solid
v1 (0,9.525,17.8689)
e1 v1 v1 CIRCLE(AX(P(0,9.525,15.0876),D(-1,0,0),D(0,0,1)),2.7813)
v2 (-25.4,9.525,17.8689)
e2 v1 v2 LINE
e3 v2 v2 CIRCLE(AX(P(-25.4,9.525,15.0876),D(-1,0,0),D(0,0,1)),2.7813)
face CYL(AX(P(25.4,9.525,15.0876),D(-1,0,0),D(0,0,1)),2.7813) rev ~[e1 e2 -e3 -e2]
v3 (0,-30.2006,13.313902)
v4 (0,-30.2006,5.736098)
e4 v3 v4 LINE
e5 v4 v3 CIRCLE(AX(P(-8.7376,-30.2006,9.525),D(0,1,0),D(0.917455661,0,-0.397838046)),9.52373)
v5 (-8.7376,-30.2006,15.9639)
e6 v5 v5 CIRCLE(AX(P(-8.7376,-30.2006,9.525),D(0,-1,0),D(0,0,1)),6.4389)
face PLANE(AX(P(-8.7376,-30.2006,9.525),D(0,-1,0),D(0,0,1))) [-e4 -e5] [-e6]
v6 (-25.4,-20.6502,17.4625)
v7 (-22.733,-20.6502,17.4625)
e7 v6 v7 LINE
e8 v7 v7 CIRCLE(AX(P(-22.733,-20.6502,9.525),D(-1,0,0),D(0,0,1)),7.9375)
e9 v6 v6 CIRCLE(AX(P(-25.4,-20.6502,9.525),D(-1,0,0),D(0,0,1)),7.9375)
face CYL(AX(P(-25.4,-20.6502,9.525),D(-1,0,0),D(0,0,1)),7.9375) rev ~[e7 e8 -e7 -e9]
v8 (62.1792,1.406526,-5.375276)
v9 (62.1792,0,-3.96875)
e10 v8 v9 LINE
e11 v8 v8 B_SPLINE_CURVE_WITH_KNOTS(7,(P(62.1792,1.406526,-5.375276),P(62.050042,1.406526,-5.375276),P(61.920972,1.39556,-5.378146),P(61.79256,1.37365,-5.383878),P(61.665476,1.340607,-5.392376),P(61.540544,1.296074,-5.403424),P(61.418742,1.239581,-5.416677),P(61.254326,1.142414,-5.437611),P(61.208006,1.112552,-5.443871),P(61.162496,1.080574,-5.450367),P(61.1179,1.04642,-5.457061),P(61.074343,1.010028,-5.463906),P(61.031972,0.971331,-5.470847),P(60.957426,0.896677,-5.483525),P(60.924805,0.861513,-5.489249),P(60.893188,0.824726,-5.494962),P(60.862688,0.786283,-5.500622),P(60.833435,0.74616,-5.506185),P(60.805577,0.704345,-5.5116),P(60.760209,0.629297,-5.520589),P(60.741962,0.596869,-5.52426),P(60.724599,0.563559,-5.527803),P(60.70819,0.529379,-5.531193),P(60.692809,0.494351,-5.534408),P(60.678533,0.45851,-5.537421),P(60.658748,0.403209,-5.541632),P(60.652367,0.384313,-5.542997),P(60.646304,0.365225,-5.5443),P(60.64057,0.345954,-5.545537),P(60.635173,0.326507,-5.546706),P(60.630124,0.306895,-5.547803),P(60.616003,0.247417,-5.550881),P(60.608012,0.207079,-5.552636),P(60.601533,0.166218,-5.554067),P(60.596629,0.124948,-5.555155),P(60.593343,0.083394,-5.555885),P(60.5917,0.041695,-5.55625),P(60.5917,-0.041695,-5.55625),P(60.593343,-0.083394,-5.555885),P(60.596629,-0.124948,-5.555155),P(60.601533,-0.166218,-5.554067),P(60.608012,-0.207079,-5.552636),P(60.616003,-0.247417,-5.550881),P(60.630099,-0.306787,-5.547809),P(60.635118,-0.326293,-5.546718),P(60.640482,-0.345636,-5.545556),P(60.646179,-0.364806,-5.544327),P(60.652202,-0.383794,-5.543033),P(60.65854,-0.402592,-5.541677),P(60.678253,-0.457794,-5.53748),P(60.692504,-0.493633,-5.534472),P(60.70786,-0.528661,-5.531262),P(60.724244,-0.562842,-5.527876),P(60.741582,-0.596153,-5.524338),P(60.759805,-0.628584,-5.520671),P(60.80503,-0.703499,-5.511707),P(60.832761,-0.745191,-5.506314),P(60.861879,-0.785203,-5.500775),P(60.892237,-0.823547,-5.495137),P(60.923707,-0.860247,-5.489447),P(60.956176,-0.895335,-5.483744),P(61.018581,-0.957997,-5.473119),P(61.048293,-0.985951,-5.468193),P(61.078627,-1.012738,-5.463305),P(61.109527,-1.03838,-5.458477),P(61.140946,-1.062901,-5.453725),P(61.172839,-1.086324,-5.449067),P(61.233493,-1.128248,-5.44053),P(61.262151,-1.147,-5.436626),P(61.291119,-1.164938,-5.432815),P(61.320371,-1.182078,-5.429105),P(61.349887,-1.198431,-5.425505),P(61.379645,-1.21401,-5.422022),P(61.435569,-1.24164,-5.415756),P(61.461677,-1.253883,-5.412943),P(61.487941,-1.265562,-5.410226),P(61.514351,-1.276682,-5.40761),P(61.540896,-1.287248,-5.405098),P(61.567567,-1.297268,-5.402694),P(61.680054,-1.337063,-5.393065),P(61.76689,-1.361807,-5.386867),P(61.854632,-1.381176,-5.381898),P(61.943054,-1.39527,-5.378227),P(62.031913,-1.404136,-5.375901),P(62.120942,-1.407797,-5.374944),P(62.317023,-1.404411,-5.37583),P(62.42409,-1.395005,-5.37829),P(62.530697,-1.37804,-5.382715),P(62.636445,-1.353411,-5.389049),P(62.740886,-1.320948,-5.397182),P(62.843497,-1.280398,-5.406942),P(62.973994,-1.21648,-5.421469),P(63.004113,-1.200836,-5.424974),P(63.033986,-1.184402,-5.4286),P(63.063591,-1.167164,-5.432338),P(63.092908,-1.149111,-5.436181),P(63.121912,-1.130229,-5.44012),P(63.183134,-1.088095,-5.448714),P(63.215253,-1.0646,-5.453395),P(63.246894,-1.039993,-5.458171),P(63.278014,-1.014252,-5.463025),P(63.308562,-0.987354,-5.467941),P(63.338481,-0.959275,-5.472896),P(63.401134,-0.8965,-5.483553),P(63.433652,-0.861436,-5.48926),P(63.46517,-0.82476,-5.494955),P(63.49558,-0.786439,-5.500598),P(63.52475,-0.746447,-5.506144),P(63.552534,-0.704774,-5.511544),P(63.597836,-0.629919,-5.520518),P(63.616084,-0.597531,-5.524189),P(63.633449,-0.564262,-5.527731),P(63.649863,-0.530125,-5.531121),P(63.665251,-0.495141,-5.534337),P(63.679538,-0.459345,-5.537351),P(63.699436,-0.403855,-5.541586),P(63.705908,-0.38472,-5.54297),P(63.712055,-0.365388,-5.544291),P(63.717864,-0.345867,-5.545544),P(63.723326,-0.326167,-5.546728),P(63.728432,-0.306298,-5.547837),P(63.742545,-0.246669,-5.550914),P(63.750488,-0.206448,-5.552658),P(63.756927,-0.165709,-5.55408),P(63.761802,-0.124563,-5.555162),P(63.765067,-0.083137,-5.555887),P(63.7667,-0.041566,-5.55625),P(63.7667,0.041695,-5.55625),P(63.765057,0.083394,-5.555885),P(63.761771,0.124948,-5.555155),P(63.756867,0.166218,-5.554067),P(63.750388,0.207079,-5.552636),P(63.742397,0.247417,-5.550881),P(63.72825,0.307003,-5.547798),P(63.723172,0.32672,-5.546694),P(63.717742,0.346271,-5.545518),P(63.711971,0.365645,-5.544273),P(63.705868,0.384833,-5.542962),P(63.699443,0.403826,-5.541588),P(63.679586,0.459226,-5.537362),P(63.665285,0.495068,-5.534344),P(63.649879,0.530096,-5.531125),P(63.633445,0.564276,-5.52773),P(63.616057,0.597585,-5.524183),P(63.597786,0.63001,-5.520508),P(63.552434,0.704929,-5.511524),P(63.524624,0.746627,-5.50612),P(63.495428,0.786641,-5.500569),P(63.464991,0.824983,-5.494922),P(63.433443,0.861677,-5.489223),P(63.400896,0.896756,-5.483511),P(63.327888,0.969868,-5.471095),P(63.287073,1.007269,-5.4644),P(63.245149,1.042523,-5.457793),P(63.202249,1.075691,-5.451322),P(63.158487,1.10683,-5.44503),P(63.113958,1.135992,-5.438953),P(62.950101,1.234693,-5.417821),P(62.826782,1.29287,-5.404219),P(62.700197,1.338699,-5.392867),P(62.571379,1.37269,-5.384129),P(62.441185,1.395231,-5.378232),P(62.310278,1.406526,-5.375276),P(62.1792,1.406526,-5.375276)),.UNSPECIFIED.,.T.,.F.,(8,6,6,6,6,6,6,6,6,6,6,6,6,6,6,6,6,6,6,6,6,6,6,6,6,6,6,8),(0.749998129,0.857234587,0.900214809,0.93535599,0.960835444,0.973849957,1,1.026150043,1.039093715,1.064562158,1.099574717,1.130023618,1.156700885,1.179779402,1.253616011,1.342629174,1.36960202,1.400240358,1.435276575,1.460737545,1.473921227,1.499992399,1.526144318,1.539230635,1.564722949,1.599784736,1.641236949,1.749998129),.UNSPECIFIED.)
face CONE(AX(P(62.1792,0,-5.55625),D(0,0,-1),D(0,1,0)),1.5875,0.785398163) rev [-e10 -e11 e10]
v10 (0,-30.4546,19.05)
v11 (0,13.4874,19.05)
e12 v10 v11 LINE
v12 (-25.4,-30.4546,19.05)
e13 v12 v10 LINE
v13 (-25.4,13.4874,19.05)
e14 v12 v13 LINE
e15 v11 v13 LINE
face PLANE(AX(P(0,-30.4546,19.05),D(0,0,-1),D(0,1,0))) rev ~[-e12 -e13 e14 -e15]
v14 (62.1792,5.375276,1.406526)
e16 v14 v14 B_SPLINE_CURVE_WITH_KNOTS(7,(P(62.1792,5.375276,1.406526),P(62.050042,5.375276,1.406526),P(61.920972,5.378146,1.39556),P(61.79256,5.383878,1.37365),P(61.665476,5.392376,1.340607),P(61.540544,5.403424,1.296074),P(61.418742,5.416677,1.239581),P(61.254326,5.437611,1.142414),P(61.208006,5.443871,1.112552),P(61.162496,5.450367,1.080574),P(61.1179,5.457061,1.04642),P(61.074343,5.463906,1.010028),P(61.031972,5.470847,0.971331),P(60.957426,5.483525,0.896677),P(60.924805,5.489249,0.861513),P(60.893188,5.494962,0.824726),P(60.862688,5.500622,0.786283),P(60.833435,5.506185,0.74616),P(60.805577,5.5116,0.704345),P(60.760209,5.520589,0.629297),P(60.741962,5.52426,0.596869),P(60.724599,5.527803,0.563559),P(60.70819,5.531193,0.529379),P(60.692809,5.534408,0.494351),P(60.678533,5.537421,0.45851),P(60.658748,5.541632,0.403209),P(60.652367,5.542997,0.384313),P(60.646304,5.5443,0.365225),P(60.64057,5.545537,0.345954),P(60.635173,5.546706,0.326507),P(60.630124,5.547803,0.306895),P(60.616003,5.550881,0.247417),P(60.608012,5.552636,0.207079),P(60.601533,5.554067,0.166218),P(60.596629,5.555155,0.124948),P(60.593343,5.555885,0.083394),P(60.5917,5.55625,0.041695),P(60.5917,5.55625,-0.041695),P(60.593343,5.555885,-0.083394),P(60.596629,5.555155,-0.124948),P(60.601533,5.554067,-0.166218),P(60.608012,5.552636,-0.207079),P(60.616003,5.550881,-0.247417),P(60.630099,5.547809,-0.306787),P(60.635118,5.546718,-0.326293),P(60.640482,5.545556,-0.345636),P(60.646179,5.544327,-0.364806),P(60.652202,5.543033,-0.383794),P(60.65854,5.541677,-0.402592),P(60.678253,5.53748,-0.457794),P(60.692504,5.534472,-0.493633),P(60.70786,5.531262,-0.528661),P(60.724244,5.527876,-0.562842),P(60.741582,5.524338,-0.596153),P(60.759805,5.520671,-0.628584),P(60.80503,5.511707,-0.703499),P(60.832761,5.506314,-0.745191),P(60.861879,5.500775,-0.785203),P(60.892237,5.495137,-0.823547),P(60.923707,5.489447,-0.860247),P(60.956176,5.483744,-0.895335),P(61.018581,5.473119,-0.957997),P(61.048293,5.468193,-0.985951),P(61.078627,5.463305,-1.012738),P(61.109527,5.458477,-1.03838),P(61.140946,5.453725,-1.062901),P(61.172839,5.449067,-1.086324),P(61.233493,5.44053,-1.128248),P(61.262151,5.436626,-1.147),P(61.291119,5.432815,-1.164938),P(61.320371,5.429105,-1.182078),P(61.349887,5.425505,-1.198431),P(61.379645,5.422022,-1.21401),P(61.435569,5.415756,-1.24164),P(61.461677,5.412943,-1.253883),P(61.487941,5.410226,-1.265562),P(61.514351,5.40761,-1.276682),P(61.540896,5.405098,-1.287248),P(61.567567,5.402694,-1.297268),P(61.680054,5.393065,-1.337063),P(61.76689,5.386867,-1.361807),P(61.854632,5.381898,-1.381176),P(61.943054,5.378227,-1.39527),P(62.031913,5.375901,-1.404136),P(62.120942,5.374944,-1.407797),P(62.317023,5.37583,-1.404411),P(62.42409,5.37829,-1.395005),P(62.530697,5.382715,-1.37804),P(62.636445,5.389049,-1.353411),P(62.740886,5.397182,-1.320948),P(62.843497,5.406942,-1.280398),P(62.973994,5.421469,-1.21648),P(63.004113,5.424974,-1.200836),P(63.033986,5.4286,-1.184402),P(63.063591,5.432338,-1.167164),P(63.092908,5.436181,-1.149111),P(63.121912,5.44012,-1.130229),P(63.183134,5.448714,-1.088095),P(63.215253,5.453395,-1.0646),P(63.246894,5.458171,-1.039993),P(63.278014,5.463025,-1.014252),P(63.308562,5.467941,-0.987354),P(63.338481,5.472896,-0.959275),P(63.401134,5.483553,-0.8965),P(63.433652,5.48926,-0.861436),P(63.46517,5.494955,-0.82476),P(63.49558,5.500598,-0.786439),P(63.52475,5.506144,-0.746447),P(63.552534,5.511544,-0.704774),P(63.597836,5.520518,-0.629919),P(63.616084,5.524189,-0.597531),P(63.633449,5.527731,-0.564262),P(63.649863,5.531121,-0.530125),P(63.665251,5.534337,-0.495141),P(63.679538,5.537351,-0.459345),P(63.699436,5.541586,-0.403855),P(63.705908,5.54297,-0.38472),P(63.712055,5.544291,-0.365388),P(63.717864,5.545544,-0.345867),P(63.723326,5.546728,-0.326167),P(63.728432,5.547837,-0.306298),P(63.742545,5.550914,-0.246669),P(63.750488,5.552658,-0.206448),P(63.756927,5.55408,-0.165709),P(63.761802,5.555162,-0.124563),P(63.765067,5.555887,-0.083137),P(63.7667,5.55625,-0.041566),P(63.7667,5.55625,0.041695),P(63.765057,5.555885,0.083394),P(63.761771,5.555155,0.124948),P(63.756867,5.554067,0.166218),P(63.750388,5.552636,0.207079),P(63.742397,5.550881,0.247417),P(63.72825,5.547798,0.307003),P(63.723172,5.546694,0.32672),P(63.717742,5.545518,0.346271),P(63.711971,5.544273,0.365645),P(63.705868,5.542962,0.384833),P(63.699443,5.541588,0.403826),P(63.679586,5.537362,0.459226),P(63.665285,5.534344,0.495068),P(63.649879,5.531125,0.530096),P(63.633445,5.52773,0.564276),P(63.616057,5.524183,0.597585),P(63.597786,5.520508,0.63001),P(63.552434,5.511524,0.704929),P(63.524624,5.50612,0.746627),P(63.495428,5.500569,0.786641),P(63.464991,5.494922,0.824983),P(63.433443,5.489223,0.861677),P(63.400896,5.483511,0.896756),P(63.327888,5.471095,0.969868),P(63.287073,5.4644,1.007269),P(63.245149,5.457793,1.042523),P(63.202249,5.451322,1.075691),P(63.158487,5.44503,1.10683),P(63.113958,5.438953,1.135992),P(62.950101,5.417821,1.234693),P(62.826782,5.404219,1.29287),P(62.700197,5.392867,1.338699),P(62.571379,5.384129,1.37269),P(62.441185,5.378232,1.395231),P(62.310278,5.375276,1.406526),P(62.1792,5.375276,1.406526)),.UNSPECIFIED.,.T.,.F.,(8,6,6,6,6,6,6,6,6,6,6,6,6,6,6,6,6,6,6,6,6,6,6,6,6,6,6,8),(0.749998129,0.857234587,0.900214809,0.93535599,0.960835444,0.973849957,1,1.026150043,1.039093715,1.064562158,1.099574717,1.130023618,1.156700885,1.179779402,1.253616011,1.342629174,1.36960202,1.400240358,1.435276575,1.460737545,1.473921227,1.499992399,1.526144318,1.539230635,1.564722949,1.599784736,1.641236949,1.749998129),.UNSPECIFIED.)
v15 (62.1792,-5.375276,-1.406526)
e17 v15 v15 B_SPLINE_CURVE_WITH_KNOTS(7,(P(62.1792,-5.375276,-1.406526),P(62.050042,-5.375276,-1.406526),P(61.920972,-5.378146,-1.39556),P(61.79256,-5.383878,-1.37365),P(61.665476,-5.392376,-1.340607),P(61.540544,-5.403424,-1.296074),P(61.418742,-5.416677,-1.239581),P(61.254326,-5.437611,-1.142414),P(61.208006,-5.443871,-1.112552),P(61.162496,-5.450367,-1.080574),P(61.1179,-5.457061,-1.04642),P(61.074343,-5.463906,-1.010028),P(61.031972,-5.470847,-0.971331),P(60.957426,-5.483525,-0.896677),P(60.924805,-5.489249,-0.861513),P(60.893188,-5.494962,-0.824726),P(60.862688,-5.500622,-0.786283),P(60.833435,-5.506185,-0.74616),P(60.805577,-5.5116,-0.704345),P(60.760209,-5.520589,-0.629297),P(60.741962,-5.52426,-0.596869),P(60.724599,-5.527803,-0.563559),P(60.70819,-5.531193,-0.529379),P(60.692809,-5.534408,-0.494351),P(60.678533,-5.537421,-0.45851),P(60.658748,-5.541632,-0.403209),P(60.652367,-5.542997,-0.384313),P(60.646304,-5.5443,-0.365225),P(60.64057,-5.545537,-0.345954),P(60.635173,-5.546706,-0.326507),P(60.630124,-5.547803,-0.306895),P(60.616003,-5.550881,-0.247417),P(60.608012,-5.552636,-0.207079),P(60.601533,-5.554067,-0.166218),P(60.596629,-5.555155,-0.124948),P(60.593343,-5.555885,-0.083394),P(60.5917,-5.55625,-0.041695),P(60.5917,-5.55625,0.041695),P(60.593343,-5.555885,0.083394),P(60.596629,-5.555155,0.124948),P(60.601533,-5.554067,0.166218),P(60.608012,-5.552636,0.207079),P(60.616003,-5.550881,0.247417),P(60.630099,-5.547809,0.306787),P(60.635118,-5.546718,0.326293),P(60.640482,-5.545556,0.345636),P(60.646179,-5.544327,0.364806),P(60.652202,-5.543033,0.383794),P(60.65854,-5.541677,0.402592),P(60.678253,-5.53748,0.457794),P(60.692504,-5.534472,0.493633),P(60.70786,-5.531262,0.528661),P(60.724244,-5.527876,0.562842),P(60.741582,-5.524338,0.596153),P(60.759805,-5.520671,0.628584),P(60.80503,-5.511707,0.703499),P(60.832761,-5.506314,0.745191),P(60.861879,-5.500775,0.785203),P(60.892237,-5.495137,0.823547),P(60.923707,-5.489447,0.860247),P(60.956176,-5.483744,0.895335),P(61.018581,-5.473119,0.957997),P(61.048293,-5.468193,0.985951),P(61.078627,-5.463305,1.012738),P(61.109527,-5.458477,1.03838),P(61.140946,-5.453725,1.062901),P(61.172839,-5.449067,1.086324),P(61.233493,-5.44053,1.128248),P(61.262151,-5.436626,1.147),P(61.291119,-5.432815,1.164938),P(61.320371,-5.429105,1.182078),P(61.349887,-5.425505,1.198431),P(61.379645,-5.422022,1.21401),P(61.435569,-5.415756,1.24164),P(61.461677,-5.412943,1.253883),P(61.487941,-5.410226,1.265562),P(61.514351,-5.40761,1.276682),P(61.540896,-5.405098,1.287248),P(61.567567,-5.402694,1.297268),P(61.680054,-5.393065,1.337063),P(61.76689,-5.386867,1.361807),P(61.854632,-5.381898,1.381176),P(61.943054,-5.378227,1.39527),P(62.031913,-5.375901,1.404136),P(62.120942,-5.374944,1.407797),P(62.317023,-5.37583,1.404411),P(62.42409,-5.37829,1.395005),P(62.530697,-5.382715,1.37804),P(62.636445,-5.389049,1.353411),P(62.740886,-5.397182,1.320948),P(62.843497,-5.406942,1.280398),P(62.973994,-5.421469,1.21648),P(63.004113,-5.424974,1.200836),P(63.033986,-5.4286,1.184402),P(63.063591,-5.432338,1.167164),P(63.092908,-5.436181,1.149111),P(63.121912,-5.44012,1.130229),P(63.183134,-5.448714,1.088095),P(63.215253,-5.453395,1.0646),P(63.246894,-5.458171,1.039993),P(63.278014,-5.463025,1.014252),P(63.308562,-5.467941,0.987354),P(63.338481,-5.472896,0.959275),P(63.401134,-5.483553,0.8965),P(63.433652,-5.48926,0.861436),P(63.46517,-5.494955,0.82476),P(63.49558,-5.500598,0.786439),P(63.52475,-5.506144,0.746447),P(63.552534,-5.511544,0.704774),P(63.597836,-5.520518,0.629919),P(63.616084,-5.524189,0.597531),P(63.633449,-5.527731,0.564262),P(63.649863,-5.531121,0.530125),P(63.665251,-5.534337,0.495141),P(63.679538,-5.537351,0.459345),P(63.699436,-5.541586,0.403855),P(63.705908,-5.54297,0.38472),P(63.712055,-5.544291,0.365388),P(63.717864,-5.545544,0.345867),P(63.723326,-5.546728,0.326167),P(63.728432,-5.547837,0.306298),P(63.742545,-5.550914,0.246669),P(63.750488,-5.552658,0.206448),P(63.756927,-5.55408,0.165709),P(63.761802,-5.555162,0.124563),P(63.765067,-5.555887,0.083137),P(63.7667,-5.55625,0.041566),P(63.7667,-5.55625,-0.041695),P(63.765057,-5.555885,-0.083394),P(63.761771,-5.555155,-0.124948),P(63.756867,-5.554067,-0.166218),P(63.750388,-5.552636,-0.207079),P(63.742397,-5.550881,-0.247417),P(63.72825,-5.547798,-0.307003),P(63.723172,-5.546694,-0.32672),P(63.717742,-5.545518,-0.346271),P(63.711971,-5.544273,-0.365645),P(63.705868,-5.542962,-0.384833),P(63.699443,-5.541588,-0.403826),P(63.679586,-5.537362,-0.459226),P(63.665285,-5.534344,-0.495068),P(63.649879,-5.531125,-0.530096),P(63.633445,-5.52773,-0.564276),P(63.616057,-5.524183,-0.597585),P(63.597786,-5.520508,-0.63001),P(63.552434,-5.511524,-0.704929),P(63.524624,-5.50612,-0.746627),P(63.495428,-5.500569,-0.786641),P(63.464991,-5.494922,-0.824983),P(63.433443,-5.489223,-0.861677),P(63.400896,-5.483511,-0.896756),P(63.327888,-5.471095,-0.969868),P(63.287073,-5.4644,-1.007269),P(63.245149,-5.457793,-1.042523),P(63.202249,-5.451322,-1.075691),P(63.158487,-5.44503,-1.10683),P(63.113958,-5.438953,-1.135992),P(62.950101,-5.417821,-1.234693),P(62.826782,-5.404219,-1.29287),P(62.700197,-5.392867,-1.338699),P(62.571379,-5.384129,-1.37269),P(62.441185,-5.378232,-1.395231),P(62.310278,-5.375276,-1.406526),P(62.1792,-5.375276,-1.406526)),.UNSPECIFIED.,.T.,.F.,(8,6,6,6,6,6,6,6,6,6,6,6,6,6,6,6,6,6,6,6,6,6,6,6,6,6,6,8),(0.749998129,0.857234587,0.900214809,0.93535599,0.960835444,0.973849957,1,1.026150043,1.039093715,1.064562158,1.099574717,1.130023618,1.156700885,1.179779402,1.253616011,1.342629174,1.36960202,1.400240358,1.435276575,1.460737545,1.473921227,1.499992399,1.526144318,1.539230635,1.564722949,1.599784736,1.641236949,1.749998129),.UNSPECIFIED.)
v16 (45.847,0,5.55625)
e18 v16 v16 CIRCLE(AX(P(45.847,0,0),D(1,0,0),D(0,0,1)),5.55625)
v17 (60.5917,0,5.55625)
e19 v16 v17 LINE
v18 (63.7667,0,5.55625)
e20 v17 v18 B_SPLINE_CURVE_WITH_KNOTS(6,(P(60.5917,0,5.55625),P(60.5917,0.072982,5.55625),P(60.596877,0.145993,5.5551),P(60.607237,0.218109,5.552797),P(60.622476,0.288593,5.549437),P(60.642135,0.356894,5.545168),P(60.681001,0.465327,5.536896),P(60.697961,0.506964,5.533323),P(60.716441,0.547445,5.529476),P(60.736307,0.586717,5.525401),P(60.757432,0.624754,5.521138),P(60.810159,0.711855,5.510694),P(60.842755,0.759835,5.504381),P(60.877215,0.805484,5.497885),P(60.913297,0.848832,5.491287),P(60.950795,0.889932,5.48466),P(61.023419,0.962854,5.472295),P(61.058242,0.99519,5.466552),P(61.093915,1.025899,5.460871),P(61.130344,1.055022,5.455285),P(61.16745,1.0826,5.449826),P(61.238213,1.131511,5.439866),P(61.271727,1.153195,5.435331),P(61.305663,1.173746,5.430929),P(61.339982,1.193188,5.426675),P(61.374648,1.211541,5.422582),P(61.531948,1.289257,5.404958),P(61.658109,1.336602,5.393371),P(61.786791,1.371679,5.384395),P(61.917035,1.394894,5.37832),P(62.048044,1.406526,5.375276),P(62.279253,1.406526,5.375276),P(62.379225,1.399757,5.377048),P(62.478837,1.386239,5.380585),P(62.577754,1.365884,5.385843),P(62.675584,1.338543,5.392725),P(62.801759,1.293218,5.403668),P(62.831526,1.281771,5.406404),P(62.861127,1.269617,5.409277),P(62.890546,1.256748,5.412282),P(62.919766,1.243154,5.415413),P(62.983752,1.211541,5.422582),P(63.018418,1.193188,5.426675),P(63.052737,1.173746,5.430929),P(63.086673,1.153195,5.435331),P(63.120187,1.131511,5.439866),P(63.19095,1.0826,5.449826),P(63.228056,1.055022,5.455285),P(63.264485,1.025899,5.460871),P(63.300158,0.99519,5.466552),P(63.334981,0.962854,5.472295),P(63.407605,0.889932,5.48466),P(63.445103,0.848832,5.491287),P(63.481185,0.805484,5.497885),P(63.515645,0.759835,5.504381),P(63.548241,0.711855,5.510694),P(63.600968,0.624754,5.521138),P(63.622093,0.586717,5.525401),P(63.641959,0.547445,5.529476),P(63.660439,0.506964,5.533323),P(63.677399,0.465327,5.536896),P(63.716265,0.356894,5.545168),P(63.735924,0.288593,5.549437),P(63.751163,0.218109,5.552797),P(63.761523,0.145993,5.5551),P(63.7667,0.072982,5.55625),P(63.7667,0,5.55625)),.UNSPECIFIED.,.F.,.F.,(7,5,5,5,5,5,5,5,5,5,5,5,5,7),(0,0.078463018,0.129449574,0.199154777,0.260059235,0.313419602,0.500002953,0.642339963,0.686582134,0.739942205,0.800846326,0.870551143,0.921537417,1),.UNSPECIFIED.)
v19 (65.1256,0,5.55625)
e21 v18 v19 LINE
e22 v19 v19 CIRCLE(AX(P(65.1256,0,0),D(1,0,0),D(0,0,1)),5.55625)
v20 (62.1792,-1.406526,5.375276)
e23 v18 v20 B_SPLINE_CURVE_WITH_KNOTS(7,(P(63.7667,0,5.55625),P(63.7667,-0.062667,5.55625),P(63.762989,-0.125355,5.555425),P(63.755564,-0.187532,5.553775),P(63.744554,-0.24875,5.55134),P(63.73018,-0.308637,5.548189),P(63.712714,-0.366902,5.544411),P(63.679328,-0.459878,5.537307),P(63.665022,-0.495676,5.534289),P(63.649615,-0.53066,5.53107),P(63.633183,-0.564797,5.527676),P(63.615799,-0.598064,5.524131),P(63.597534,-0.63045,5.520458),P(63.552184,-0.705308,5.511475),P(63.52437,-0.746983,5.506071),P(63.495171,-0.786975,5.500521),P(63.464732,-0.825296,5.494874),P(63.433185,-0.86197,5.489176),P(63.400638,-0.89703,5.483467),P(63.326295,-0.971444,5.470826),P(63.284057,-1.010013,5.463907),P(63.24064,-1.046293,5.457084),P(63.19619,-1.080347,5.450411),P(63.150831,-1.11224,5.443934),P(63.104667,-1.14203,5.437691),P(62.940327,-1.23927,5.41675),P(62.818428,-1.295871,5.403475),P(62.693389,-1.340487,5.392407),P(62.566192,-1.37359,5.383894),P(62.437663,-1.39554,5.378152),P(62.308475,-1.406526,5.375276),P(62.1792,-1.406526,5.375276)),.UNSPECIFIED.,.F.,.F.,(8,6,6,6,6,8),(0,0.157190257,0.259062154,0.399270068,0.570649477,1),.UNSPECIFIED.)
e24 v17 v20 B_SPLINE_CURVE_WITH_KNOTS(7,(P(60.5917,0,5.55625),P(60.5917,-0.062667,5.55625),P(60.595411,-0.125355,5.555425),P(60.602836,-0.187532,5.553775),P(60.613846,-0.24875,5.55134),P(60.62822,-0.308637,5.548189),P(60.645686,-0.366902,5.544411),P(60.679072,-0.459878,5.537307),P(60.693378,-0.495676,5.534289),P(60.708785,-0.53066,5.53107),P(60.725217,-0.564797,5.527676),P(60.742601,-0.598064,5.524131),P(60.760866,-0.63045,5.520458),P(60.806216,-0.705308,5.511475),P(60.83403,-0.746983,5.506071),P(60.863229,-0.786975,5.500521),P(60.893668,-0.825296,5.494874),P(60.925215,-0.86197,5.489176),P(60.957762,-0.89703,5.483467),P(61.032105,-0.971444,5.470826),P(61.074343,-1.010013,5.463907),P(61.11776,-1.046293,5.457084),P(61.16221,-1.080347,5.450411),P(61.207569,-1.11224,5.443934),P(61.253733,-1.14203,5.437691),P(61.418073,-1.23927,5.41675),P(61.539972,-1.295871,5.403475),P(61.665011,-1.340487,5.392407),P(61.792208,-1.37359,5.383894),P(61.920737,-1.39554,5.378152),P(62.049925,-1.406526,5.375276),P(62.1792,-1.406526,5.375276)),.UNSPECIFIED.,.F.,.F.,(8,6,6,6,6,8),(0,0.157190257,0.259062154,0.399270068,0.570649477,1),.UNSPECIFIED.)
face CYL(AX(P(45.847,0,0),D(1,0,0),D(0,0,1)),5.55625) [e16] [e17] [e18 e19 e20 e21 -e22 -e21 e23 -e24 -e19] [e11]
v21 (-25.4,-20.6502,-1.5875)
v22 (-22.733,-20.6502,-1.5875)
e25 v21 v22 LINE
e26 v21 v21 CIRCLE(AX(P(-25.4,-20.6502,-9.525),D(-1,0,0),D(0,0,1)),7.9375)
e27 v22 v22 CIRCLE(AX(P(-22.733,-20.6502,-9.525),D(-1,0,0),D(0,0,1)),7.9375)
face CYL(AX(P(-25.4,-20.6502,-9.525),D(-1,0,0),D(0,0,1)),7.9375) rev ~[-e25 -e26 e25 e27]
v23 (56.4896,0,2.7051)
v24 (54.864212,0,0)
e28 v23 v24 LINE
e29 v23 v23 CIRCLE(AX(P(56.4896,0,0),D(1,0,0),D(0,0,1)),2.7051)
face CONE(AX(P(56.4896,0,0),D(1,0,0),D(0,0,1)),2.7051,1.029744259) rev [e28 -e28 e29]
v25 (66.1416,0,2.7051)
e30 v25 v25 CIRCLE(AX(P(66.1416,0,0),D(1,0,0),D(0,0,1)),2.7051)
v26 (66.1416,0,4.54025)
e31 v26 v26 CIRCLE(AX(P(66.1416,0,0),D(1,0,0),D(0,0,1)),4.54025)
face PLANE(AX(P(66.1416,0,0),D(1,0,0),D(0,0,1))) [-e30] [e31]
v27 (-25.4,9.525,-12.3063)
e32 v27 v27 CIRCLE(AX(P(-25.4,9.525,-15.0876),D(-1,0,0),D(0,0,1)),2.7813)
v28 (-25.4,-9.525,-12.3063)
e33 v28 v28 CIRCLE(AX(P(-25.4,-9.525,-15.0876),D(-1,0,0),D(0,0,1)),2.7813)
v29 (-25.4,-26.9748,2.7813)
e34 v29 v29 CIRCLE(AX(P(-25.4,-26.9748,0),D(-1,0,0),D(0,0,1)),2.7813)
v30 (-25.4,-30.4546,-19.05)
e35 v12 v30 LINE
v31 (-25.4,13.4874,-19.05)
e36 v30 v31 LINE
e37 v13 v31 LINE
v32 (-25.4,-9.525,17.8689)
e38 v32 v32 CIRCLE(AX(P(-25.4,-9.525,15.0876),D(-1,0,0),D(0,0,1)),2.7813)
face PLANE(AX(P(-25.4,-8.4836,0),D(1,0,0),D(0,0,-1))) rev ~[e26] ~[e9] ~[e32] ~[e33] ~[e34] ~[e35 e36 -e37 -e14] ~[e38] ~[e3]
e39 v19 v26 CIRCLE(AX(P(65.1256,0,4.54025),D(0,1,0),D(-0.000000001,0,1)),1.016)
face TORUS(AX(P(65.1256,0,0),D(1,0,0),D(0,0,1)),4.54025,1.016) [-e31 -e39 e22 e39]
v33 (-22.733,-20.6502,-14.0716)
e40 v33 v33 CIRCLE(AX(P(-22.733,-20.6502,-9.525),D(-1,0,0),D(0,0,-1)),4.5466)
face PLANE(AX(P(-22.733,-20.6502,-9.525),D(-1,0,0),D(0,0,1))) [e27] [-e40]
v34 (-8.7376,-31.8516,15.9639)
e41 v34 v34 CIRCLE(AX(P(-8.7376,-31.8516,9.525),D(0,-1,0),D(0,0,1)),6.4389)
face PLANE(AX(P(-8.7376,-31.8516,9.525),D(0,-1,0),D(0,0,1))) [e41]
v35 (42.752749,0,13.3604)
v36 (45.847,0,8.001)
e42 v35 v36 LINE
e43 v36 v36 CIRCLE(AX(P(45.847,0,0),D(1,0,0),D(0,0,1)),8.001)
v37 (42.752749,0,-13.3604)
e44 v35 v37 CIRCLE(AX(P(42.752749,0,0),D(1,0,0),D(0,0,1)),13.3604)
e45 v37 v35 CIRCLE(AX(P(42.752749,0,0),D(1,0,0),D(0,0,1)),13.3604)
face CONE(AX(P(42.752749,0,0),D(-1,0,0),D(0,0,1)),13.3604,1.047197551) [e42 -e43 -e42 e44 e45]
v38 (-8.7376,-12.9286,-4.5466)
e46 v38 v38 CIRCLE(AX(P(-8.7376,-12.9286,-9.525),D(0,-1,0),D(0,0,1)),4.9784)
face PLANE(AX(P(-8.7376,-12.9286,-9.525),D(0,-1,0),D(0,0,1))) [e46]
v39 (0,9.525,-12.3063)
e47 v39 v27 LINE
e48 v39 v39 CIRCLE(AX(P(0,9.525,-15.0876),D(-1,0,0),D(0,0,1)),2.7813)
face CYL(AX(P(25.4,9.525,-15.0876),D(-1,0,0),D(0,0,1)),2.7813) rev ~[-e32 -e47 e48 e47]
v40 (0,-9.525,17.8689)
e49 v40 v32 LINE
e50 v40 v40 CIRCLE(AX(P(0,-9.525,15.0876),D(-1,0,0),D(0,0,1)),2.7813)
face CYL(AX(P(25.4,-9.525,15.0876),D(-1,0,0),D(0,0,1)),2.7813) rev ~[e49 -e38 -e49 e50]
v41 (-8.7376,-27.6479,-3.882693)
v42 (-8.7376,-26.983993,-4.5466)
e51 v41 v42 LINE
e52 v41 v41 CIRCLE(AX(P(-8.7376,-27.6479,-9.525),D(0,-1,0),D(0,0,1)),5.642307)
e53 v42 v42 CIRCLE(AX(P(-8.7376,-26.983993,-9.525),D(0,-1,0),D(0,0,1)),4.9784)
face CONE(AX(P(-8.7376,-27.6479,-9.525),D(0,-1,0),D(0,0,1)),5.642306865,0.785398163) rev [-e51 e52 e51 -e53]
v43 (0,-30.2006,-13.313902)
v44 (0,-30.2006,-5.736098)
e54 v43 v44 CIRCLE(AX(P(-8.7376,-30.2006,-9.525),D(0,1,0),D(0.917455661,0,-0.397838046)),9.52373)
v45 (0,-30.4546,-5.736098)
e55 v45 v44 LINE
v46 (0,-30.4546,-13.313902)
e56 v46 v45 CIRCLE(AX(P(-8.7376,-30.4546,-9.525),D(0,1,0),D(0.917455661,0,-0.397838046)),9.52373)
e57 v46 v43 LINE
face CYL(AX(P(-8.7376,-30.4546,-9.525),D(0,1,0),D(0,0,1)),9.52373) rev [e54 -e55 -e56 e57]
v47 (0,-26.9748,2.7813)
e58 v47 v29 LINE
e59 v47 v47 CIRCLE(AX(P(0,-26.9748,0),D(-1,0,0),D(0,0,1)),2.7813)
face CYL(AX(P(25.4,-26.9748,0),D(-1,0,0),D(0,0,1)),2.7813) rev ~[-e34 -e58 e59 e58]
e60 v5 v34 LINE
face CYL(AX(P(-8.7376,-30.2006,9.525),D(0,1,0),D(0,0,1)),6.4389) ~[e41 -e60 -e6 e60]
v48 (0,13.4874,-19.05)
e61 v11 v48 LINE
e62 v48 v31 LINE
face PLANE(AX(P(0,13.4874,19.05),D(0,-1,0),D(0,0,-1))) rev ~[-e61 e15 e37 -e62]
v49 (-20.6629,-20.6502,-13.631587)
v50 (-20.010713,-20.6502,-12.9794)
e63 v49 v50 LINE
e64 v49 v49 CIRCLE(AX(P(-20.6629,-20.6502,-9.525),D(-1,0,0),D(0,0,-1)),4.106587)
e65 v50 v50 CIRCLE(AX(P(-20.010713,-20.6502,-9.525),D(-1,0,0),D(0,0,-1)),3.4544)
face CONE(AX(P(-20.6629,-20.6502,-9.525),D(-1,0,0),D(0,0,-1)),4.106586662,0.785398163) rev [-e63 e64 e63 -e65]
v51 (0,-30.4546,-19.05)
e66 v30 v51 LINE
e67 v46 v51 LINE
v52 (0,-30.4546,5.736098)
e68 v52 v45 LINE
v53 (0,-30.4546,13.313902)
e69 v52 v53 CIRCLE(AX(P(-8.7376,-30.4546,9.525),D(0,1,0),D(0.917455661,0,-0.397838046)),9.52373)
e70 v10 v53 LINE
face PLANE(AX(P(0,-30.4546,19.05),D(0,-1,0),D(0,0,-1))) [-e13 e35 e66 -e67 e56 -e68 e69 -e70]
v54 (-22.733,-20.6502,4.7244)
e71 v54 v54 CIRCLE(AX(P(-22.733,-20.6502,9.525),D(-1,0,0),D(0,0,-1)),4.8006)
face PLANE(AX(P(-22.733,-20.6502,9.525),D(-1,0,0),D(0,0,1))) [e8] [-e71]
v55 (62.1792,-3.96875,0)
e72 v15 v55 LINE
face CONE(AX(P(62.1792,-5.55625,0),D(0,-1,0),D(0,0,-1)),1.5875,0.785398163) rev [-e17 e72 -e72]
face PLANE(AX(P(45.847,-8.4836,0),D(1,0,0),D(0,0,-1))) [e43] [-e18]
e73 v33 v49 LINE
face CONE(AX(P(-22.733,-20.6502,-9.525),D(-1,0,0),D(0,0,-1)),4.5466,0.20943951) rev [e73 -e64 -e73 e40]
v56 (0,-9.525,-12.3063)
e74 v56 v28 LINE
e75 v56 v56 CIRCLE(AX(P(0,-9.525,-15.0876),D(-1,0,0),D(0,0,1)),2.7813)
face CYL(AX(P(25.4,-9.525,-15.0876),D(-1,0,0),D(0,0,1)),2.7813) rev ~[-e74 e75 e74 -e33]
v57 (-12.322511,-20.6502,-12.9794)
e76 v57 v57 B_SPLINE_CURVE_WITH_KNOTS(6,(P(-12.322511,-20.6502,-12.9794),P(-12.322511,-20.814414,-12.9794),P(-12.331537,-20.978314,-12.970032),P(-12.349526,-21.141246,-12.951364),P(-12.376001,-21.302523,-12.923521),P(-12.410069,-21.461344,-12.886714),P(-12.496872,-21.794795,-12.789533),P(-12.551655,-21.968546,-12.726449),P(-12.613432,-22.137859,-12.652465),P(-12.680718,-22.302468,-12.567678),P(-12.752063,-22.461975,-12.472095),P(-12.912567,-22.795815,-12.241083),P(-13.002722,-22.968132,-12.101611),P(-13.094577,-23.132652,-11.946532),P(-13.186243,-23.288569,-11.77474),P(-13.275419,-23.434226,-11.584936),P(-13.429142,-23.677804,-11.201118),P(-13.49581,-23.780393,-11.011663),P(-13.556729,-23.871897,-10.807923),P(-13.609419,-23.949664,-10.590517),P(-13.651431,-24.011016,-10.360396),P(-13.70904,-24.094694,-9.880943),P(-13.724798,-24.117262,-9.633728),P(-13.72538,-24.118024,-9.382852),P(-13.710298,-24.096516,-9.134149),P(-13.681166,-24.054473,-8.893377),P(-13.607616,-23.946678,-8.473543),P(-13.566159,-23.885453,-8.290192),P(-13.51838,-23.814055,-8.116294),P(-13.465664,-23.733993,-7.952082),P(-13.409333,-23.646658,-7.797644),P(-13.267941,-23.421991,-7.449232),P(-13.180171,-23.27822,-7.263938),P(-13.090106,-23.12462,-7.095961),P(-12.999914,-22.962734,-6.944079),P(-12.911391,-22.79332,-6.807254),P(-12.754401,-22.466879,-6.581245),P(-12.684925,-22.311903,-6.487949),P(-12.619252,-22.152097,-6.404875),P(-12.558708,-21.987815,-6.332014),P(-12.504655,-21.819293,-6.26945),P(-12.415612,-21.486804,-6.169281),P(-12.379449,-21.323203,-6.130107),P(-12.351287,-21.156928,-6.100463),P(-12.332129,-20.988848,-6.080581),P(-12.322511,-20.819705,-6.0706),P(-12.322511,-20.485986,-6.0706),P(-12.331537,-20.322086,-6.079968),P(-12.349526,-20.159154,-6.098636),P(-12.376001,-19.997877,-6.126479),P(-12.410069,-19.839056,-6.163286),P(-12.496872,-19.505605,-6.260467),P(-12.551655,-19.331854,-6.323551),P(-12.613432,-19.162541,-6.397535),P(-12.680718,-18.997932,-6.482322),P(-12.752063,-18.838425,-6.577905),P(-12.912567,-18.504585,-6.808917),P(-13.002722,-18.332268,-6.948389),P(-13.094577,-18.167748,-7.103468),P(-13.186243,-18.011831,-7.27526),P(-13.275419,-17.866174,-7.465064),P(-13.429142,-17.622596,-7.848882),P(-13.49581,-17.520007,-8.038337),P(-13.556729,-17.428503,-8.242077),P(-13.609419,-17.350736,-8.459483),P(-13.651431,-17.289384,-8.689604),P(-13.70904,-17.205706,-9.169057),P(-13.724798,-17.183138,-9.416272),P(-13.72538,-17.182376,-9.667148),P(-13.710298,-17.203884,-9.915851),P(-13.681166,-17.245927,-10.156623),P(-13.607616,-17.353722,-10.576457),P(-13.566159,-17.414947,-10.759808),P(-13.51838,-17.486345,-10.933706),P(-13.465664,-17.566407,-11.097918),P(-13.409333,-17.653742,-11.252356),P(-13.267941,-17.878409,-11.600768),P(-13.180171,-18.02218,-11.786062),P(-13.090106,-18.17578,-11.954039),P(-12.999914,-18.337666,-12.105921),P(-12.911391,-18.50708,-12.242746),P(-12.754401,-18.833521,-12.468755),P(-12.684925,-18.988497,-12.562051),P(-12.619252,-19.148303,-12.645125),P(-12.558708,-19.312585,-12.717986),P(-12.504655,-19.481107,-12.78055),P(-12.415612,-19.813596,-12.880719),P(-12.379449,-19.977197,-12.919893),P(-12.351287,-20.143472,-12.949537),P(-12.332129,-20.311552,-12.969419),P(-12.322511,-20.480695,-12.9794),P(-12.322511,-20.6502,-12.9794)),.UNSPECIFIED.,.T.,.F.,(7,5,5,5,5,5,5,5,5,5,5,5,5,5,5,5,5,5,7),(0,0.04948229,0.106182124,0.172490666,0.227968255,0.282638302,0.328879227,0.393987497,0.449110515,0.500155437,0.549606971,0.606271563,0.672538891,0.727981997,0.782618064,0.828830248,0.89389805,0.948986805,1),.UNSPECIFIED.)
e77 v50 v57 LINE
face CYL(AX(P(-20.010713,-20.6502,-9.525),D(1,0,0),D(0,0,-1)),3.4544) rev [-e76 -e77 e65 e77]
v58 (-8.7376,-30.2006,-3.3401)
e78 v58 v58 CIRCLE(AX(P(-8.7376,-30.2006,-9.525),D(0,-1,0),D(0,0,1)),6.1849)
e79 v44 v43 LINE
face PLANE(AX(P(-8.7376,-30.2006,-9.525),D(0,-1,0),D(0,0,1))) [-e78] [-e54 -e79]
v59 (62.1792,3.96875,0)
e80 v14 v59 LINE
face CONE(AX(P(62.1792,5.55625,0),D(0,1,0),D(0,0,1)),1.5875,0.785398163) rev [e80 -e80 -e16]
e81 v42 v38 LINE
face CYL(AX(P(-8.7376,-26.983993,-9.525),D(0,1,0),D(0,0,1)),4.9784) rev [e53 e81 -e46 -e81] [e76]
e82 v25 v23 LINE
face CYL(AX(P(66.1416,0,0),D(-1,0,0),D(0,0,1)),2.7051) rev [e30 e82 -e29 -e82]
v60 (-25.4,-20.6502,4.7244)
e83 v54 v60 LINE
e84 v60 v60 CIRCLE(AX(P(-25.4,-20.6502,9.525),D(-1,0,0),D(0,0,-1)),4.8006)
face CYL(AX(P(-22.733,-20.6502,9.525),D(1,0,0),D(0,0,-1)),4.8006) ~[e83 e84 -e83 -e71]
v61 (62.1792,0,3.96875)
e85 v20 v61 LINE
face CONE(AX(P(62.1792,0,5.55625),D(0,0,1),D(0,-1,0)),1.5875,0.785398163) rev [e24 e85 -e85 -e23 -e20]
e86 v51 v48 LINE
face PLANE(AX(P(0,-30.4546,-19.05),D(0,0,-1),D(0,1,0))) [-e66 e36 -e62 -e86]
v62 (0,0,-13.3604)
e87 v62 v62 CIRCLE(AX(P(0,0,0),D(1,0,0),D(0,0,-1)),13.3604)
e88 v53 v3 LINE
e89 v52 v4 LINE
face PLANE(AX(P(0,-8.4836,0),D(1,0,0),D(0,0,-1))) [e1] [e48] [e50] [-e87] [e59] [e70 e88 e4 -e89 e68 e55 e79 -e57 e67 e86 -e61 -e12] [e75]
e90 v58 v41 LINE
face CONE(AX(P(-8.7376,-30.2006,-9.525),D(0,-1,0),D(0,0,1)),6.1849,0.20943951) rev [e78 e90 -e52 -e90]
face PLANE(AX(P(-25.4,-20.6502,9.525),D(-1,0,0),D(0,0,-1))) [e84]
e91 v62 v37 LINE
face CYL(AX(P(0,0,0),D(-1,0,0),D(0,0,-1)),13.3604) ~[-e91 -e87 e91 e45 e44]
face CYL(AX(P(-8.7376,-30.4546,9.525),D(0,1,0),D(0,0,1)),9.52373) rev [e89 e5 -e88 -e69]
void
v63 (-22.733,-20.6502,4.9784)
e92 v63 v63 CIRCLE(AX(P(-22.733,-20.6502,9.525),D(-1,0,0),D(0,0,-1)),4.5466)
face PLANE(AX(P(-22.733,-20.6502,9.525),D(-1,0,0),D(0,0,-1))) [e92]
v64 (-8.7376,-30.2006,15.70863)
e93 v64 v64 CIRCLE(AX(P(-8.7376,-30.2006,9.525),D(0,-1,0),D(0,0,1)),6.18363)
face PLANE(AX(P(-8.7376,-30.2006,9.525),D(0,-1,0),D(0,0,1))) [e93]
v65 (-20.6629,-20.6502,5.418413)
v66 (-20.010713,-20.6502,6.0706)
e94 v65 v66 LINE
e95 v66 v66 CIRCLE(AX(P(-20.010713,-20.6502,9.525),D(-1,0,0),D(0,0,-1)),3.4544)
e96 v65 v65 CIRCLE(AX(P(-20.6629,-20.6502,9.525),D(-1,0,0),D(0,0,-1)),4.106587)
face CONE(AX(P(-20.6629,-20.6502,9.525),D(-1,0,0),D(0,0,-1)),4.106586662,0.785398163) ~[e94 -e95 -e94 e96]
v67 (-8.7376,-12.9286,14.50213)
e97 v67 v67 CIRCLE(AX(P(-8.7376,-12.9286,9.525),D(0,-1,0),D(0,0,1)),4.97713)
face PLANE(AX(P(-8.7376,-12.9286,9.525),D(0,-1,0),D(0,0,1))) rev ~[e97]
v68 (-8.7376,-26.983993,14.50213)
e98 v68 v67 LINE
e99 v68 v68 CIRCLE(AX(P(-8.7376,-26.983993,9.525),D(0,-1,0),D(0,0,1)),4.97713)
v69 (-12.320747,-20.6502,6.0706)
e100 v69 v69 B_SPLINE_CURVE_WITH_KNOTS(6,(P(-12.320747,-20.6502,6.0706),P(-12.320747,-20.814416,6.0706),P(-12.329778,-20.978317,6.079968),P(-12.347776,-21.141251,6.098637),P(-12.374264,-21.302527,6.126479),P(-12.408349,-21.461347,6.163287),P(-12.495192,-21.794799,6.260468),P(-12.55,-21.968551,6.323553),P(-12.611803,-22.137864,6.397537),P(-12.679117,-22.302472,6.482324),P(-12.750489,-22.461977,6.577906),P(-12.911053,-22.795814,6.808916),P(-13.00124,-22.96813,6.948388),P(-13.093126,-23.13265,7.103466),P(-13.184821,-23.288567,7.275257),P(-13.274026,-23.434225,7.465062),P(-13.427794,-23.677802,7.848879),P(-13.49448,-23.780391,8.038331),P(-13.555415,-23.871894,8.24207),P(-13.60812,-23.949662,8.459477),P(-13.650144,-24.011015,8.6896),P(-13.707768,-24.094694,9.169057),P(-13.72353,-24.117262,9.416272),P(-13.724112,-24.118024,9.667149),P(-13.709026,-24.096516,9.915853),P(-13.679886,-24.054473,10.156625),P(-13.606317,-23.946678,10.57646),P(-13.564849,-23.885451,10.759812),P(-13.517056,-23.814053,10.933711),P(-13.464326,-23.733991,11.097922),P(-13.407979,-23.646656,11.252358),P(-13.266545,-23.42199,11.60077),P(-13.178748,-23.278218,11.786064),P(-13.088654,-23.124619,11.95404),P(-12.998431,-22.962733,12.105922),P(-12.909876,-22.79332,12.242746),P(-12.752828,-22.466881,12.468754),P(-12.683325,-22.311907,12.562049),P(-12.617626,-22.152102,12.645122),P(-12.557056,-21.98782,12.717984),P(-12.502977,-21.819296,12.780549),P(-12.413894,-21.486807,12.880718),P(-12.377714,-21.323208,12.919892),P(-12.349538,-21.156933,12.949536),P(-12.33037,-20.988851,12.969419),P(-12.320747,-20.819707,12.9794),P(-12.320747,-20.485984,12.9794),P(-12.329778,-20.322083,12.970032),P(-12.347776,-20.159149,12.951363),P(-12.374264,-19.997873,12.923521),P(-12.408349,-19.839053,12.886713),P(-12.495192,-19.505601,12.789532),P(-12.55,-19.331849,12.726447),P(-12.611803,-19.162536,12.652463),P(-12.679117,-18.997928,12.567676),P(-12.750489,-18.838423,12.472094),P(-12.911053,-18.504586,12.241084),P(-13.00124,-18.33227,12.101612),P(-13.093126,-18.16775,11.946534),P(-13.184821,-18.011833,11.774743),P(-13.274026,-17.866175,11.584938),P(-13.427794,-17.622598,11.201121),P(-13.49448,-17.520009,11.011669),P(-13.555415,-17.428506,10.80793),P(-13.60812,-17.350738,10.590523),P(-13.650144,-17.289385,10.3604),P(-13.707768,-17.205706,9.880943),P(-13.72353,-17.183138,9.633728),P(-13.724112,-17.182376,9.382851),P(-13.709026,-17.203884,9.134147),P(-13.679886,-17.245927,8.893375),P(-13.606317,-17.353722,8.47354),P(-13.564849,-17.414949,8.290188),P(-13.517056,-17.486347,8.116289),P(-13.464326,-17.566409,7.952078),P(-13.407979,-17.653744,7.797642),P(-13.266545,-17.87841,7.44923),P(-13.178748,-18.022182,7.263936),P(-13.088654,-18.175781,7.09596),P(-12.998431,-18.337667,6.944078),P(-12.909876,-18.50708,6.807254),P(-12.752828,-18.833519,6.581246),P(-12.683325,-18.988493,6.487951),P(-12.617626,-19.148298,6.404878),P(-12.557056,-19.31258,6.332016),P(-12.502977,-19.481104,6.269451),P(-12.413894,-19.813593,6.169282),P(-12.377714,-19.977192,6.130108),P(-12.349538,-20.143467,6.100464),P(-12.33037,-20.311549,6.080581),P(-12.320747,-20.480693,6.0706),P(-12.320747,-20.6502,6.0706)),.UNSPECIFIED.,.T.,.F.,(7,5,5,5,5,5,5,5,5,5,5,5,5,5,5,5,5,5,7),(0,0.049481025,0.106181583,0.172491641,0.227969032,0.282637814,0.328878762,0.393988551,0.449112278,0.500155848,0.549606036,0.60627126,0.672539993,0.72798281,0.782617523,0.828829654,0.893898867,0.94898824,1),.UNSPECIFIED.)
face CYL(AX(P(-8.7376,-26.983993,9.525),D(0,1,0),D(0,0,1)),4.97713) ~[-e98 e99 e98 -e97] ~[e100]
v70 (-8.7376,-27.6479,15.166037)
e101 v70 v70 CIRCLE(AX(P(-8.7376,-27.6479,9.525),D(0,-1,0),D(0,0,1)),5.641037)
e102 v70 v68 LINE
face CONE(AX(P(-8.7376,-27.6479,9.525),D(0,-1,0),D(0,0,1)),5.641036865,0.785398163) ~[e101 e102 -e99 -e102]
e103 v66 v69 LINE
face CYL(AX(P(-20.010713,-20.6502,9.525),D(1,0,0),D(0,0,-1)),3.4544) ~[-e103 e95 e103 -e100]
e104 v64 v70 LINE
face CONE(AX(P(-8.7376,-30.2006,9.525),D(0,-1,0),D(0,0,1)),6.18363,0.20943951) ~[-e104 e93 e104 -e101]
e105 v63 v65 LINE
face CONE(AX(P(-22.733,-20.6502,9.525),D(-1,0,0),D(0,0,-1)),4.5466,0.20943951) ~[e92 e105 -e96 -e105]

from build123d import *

# Parameters (mm, degrees)
SKETCH1_W           = 38.1
SKETCH1_H           = 43.942
EXTRUDE1_DEPTH      = 45.847
EXTRUDE1_DEPTH_BACK = 25.4
CUT_EXTRUDE1_REACH  = 47.847
SKETCH2_W           = 38.1
SKETCH2_H           = 43.942
SKETCH2_R           = 13.3604
SKETCH14_R          = 7.9375
CUT_EXTRUDE2_DEPTH  = 2.667
SKETCH10_R          = 6.4389
EXTRUDE2_DEPTH      = 1.651
SKETCH11_R          = 4.8006
EXTRUDE3_DEPTH      = 2.667
CIRPATTERN1_COUNT   = 4
HOLE1_D             = 5.5626
HOLE1_DEPTH         = 25.4


with BuildPart() as part:
    # Sketch1 → Extrude1 (new body, two sides)
    with BuildSketch(Plane(origin=(0, 0, 0), x_dir=(0, 0, -1), z_dir=(1, 0, 0))) as extrude1_sk:
        with Locations((0, -8.4836)):
            Rectangle(SKETCH1_W, SKETCH1_H)
    extrude(amount=EXTRUDE1_DEPTH)
    extrude(extrude1_sk.sketch, amount=-EXTRUDE1_DEPTH_BACK)

    # Sketch2 → Cut-Extrude1 (cut, up to next)
    with BuildSketch(Plane(origin=(0, 0, 0), x_dir=(0, 0, -1), z_dir=(1, 0, 0)), mode=Mode.PRIVATE) as cut_extrude1_sk1:
        with Locations((0, -8.4836)):
            Rectangle(SKETCH2_W, SKETCH2_H)
        Circle(SKETCH2_R, mode=Mode.SUBTRACT)
    cut_extrude1_tool1 = extrude(cut_extrude1_sk1.sketch, amount=CUT_EXTRUDE1_REACH, mode=Mode.PRIVATE) & part.part
    add(cut_extrude1_tool1.solids().sort_by_distance((0, 13.429241, 0))[0], mode=Mode.SUBTRACT)

    # Sketch3 → Cut-Revolve1 (revolve, cut)
    with BuildSketch(Plane.XY, mode=Mode.PRIVATE) as cut_revolve1_sk:
        Polygon((42.752748967, 13.3604), (45.847, 8.001), (45.847, 13.3604), align=None)
    revolve(cut_revolve1_sk.sketch.rotate(Axis((42.598036416, 0, 0), (1, 0, 0)), 90), axis=Axis((42.598036416, 0, 0), (1, 0, 0)), mode=Mode.SUBTRACT)  # turned: the seam where the file's is

    # S2D0002 → Cut-Revolve2 (revolve, cut)
    with BuildSketch(Plane(origin=(-22.733, -19.8374, 9.525), x_dir=(0, 1, 0), z_dir=(0, 0, 1)), mode=Mode.PRIVATE) as cut_revolve2_sk:
        Polygon((-0.8128, 0), (3.7338, 0), (3.293786662, -2.0701), (2.6416, -2.722286662), (2.6416, -13.97), (-0.8128, -13.97), align=None)
    revolve(cut_revolve2_sk.sketch.rotate(Axis((-8.0645, -20.6502, 9.525), (-1, 0, 0)), 90), axis=Axis((-8.0645, -20.6502, 9.525), (-1, 0, 0)), mode=Mode.SUBTRACT)  # turned: the seam where the file's is

    # Sketch5 → Cut-Revolve3 (revolve, cut)
    with BuildSketch(Plane(origin=(-22.733, -19.8374, -9.525), x_dir=(0, 1, 0), z_dir=(0, 0, 1)), mode=Mode.PRIVATE) as cut_revolve3_sk:
        Polygon((-0.8128, 0), (3.7338, 0), (3.293786662, -2.0701), (2.6416, -2.722286662), (2.6416, -13.97), (-0.8128, -13.97), align=None)
    revolve(cut_revolve3_sk.sketch.rotate(Axis((-8.0645, -20.6502, -9.525), (-1, 0, 0)), 90), axis=Axis((-8.0645, -20.6502, -9.525), (-1, 0, 0)), mode=Mode.SUBTRACT)  # turned: the seam where the file's is

    # Sketch14 → Cut-Extrude2 (cut)
    with BuildSketch(Plane.ZY.offset(25.4)):
        with Locations((-9.525, -20.6502)):
            Circle(SKETCH14_R)
        with Locations((9.525, -20.6502)):
            Circle(SKETCH14_R)
    extrude(amount=-CUT_EXTRUDE2_DEPTH, mode=Mode.SUBTRACT)

    # Sketch6 → Cut-Revolve4 (revolve, cut)
    with BuildSketch(Plane(origin=(-8.7376, -30.2006, 9.525), x_dir=(-1, 0, 0), z_dir=(0, 0, 1)), mode=Mode.PRIVATE) as cut_revolve4_sk:
        Polygon((6.18363, 0), (5.641036865, -2.5527), (4.97713, -3.216606865), (4.97713, -17.272), (0, -17.272), (0, 0), (0, 0.254), (9.52373, 0.254), (9.52373, 0), align=None)
    revolve(cut_revolve4_sk.sketch.rotate(Axis((-8.7376, -12.065, 9.525), (0, -1, 0)), 270), axis=Axis((-8.7376, -12.065, 9.525), (0, -1, 0)), mode=Mode.SUBTRACT)  # turned: the seam where the file's is

    # Sketch7 → Cut-Revolve5 (revolve, cut)
    with BuildSketch(Plane(origin=(-8.7376, -30.2006, -9.525), x_dir=(-1, 0, 0), z_dir=(0, 0, 1)), mode=Mode.PRIVATE) as cut_revolve5_sk:
        Polygon((6.1849, 0), (5.642306865, -2.5527), (4.9784, -3.216606865), (4.9784, -17.272), (0, -17.272), (0, 0), (0, 0.254), (9.52373, 0.254), (9.52373, 0), align=None)
    revolve(cut_revolve5_sk.sketch.rotate(Axis((-8.7376, -12.065, -9.525), (0, -1, 0)), 270), axis=Axis((-8.7376, -12.065, -9.525), (0, -1, 0)), mode=Mode.SUBTRACT)  # turned: the seam where the file's is

    # Sketch8 → Revolve1 (revolve)
    with BuildSketch(Plane.XY, mode=Mode.PRIVATE) as revolve1_sk:
        with BuildLine():
            Line((45.847, 0), (45.847, 5.55625))
            Line((45.847, 5.55625), (65.1256, 5.55625))
            ThreePointArc((65.1256, 5.55625), (65.84402049, 5.25867049), (66.1416, 4.54025))
            Line((66.1416, 4.54025), (66.1416, 0))
            Line((66.1416, 0), (45.847, 0))
        make_face()
    revolve(revolve1_sk.sketch.rotate(Axis((44.83227, 0, 0), (1, 0, 0)), 90), axis=Axis((44.83227, 0, 0), (1, 0, 0)))  # turned: the seam where the file's is

    # S2D0001 → Cut-Revolve6 (revolve, cut)
    with BuildSketch(Plane(origin=(66.1416, -2.8067, 0), x_dir=(0, -1, 0), z_dir=(0, 0, 1)), mode=Mode.PRIVATE) as cut_revolve6_sk:
        Polygon((-0.1016, 0), (-0.1016, -9.652), (-2.8067, -11.277388061), (-2.8067, 0), align=None)
    revolve(cut_revolve6_sk.sketch.rotate(Axis((53.702842726, 0, 0), (1, 0, 0)), 270), axis=Axis((53.702842726, 0, 0), (1, 0, 0)), mode=Mode.SUBTRACT)  # turned: the seam where the file's is

    # Sketch10 → Extrude2 (add)
    with BuildSketch(Plane(origin=(-25.4, -30.2006, 0), x_dir=(0, 0, -1), z_dir=(0, -1, 0))):
        with Locations(Location((-9.525, 16.6624, 0), (0, 0, 180))):  # turned: the seam where the file's is
            Circle(SKETCH10_R)
    extrude(amount=EXTRUDE2_DEPTH)

    # Sketch11 → Extrude3 (add)
    with BuildSketch(Plane.ZY.offset(22.733)):
        with Locations(Location((9.525, -20.6502, 0), (0, 0, 180))):  # turned: the seam where the file's is
            Circle(SKETCH11_R)
    extrude(amount=EXTRUDE3_DEPTH)

    # Sketch12 → Cut-Revolve7 (revolve, cut)
    with BuildSketch(Plane(origin=(62.1792, 5.55625, 0), x_dir=(-1, 0, 0), z_dir=(0, 0, -1)), mode=Mode.PRIVATE) as cut_revolve7_sk:
        Polygon((0, 0), (1.5875, 0), (0, -1.5875), align=None)
    cut_revolve7 = revolve(cut_revolve7_sk.sketch.rotate(Axis((62.1792, 2.12229387, 0), (0, 1, 0)), 90), axis=Axis((62.1792, 2.12229387, 0), (0, 1, 0)), mode=Mode.SUBTRACT)  # turned: the seam where the file's is

    # CirPattern1: Cut-Revolve7 ×4 about axis
    cirpattern1_axis = Axis((45.848, 0, 0), (-1, 0, 0))
    for i in range(1, CIRPATTERN1_COUNT):
        add(cut_revolve7.rotate(cirpattern1_axis, i * 360 / CIRPATTERN1_COUNT), mode=Mode.SUBTRACT)

    # Hole1
    with Locations(Plane(origin=(0, 0, 0), x_dir=(0, 0, -1), z_dir=(1, 0, 0))):
        with Locations((-15.0876, 9.525), (-15.0876, -9.525), (15.0876, 9.525), (15.0876, -9.525), (0, -26.9748)):
            Hole(HOLE1_D / 2, depth=HOLE1_DEPTH)


solid = part.part
